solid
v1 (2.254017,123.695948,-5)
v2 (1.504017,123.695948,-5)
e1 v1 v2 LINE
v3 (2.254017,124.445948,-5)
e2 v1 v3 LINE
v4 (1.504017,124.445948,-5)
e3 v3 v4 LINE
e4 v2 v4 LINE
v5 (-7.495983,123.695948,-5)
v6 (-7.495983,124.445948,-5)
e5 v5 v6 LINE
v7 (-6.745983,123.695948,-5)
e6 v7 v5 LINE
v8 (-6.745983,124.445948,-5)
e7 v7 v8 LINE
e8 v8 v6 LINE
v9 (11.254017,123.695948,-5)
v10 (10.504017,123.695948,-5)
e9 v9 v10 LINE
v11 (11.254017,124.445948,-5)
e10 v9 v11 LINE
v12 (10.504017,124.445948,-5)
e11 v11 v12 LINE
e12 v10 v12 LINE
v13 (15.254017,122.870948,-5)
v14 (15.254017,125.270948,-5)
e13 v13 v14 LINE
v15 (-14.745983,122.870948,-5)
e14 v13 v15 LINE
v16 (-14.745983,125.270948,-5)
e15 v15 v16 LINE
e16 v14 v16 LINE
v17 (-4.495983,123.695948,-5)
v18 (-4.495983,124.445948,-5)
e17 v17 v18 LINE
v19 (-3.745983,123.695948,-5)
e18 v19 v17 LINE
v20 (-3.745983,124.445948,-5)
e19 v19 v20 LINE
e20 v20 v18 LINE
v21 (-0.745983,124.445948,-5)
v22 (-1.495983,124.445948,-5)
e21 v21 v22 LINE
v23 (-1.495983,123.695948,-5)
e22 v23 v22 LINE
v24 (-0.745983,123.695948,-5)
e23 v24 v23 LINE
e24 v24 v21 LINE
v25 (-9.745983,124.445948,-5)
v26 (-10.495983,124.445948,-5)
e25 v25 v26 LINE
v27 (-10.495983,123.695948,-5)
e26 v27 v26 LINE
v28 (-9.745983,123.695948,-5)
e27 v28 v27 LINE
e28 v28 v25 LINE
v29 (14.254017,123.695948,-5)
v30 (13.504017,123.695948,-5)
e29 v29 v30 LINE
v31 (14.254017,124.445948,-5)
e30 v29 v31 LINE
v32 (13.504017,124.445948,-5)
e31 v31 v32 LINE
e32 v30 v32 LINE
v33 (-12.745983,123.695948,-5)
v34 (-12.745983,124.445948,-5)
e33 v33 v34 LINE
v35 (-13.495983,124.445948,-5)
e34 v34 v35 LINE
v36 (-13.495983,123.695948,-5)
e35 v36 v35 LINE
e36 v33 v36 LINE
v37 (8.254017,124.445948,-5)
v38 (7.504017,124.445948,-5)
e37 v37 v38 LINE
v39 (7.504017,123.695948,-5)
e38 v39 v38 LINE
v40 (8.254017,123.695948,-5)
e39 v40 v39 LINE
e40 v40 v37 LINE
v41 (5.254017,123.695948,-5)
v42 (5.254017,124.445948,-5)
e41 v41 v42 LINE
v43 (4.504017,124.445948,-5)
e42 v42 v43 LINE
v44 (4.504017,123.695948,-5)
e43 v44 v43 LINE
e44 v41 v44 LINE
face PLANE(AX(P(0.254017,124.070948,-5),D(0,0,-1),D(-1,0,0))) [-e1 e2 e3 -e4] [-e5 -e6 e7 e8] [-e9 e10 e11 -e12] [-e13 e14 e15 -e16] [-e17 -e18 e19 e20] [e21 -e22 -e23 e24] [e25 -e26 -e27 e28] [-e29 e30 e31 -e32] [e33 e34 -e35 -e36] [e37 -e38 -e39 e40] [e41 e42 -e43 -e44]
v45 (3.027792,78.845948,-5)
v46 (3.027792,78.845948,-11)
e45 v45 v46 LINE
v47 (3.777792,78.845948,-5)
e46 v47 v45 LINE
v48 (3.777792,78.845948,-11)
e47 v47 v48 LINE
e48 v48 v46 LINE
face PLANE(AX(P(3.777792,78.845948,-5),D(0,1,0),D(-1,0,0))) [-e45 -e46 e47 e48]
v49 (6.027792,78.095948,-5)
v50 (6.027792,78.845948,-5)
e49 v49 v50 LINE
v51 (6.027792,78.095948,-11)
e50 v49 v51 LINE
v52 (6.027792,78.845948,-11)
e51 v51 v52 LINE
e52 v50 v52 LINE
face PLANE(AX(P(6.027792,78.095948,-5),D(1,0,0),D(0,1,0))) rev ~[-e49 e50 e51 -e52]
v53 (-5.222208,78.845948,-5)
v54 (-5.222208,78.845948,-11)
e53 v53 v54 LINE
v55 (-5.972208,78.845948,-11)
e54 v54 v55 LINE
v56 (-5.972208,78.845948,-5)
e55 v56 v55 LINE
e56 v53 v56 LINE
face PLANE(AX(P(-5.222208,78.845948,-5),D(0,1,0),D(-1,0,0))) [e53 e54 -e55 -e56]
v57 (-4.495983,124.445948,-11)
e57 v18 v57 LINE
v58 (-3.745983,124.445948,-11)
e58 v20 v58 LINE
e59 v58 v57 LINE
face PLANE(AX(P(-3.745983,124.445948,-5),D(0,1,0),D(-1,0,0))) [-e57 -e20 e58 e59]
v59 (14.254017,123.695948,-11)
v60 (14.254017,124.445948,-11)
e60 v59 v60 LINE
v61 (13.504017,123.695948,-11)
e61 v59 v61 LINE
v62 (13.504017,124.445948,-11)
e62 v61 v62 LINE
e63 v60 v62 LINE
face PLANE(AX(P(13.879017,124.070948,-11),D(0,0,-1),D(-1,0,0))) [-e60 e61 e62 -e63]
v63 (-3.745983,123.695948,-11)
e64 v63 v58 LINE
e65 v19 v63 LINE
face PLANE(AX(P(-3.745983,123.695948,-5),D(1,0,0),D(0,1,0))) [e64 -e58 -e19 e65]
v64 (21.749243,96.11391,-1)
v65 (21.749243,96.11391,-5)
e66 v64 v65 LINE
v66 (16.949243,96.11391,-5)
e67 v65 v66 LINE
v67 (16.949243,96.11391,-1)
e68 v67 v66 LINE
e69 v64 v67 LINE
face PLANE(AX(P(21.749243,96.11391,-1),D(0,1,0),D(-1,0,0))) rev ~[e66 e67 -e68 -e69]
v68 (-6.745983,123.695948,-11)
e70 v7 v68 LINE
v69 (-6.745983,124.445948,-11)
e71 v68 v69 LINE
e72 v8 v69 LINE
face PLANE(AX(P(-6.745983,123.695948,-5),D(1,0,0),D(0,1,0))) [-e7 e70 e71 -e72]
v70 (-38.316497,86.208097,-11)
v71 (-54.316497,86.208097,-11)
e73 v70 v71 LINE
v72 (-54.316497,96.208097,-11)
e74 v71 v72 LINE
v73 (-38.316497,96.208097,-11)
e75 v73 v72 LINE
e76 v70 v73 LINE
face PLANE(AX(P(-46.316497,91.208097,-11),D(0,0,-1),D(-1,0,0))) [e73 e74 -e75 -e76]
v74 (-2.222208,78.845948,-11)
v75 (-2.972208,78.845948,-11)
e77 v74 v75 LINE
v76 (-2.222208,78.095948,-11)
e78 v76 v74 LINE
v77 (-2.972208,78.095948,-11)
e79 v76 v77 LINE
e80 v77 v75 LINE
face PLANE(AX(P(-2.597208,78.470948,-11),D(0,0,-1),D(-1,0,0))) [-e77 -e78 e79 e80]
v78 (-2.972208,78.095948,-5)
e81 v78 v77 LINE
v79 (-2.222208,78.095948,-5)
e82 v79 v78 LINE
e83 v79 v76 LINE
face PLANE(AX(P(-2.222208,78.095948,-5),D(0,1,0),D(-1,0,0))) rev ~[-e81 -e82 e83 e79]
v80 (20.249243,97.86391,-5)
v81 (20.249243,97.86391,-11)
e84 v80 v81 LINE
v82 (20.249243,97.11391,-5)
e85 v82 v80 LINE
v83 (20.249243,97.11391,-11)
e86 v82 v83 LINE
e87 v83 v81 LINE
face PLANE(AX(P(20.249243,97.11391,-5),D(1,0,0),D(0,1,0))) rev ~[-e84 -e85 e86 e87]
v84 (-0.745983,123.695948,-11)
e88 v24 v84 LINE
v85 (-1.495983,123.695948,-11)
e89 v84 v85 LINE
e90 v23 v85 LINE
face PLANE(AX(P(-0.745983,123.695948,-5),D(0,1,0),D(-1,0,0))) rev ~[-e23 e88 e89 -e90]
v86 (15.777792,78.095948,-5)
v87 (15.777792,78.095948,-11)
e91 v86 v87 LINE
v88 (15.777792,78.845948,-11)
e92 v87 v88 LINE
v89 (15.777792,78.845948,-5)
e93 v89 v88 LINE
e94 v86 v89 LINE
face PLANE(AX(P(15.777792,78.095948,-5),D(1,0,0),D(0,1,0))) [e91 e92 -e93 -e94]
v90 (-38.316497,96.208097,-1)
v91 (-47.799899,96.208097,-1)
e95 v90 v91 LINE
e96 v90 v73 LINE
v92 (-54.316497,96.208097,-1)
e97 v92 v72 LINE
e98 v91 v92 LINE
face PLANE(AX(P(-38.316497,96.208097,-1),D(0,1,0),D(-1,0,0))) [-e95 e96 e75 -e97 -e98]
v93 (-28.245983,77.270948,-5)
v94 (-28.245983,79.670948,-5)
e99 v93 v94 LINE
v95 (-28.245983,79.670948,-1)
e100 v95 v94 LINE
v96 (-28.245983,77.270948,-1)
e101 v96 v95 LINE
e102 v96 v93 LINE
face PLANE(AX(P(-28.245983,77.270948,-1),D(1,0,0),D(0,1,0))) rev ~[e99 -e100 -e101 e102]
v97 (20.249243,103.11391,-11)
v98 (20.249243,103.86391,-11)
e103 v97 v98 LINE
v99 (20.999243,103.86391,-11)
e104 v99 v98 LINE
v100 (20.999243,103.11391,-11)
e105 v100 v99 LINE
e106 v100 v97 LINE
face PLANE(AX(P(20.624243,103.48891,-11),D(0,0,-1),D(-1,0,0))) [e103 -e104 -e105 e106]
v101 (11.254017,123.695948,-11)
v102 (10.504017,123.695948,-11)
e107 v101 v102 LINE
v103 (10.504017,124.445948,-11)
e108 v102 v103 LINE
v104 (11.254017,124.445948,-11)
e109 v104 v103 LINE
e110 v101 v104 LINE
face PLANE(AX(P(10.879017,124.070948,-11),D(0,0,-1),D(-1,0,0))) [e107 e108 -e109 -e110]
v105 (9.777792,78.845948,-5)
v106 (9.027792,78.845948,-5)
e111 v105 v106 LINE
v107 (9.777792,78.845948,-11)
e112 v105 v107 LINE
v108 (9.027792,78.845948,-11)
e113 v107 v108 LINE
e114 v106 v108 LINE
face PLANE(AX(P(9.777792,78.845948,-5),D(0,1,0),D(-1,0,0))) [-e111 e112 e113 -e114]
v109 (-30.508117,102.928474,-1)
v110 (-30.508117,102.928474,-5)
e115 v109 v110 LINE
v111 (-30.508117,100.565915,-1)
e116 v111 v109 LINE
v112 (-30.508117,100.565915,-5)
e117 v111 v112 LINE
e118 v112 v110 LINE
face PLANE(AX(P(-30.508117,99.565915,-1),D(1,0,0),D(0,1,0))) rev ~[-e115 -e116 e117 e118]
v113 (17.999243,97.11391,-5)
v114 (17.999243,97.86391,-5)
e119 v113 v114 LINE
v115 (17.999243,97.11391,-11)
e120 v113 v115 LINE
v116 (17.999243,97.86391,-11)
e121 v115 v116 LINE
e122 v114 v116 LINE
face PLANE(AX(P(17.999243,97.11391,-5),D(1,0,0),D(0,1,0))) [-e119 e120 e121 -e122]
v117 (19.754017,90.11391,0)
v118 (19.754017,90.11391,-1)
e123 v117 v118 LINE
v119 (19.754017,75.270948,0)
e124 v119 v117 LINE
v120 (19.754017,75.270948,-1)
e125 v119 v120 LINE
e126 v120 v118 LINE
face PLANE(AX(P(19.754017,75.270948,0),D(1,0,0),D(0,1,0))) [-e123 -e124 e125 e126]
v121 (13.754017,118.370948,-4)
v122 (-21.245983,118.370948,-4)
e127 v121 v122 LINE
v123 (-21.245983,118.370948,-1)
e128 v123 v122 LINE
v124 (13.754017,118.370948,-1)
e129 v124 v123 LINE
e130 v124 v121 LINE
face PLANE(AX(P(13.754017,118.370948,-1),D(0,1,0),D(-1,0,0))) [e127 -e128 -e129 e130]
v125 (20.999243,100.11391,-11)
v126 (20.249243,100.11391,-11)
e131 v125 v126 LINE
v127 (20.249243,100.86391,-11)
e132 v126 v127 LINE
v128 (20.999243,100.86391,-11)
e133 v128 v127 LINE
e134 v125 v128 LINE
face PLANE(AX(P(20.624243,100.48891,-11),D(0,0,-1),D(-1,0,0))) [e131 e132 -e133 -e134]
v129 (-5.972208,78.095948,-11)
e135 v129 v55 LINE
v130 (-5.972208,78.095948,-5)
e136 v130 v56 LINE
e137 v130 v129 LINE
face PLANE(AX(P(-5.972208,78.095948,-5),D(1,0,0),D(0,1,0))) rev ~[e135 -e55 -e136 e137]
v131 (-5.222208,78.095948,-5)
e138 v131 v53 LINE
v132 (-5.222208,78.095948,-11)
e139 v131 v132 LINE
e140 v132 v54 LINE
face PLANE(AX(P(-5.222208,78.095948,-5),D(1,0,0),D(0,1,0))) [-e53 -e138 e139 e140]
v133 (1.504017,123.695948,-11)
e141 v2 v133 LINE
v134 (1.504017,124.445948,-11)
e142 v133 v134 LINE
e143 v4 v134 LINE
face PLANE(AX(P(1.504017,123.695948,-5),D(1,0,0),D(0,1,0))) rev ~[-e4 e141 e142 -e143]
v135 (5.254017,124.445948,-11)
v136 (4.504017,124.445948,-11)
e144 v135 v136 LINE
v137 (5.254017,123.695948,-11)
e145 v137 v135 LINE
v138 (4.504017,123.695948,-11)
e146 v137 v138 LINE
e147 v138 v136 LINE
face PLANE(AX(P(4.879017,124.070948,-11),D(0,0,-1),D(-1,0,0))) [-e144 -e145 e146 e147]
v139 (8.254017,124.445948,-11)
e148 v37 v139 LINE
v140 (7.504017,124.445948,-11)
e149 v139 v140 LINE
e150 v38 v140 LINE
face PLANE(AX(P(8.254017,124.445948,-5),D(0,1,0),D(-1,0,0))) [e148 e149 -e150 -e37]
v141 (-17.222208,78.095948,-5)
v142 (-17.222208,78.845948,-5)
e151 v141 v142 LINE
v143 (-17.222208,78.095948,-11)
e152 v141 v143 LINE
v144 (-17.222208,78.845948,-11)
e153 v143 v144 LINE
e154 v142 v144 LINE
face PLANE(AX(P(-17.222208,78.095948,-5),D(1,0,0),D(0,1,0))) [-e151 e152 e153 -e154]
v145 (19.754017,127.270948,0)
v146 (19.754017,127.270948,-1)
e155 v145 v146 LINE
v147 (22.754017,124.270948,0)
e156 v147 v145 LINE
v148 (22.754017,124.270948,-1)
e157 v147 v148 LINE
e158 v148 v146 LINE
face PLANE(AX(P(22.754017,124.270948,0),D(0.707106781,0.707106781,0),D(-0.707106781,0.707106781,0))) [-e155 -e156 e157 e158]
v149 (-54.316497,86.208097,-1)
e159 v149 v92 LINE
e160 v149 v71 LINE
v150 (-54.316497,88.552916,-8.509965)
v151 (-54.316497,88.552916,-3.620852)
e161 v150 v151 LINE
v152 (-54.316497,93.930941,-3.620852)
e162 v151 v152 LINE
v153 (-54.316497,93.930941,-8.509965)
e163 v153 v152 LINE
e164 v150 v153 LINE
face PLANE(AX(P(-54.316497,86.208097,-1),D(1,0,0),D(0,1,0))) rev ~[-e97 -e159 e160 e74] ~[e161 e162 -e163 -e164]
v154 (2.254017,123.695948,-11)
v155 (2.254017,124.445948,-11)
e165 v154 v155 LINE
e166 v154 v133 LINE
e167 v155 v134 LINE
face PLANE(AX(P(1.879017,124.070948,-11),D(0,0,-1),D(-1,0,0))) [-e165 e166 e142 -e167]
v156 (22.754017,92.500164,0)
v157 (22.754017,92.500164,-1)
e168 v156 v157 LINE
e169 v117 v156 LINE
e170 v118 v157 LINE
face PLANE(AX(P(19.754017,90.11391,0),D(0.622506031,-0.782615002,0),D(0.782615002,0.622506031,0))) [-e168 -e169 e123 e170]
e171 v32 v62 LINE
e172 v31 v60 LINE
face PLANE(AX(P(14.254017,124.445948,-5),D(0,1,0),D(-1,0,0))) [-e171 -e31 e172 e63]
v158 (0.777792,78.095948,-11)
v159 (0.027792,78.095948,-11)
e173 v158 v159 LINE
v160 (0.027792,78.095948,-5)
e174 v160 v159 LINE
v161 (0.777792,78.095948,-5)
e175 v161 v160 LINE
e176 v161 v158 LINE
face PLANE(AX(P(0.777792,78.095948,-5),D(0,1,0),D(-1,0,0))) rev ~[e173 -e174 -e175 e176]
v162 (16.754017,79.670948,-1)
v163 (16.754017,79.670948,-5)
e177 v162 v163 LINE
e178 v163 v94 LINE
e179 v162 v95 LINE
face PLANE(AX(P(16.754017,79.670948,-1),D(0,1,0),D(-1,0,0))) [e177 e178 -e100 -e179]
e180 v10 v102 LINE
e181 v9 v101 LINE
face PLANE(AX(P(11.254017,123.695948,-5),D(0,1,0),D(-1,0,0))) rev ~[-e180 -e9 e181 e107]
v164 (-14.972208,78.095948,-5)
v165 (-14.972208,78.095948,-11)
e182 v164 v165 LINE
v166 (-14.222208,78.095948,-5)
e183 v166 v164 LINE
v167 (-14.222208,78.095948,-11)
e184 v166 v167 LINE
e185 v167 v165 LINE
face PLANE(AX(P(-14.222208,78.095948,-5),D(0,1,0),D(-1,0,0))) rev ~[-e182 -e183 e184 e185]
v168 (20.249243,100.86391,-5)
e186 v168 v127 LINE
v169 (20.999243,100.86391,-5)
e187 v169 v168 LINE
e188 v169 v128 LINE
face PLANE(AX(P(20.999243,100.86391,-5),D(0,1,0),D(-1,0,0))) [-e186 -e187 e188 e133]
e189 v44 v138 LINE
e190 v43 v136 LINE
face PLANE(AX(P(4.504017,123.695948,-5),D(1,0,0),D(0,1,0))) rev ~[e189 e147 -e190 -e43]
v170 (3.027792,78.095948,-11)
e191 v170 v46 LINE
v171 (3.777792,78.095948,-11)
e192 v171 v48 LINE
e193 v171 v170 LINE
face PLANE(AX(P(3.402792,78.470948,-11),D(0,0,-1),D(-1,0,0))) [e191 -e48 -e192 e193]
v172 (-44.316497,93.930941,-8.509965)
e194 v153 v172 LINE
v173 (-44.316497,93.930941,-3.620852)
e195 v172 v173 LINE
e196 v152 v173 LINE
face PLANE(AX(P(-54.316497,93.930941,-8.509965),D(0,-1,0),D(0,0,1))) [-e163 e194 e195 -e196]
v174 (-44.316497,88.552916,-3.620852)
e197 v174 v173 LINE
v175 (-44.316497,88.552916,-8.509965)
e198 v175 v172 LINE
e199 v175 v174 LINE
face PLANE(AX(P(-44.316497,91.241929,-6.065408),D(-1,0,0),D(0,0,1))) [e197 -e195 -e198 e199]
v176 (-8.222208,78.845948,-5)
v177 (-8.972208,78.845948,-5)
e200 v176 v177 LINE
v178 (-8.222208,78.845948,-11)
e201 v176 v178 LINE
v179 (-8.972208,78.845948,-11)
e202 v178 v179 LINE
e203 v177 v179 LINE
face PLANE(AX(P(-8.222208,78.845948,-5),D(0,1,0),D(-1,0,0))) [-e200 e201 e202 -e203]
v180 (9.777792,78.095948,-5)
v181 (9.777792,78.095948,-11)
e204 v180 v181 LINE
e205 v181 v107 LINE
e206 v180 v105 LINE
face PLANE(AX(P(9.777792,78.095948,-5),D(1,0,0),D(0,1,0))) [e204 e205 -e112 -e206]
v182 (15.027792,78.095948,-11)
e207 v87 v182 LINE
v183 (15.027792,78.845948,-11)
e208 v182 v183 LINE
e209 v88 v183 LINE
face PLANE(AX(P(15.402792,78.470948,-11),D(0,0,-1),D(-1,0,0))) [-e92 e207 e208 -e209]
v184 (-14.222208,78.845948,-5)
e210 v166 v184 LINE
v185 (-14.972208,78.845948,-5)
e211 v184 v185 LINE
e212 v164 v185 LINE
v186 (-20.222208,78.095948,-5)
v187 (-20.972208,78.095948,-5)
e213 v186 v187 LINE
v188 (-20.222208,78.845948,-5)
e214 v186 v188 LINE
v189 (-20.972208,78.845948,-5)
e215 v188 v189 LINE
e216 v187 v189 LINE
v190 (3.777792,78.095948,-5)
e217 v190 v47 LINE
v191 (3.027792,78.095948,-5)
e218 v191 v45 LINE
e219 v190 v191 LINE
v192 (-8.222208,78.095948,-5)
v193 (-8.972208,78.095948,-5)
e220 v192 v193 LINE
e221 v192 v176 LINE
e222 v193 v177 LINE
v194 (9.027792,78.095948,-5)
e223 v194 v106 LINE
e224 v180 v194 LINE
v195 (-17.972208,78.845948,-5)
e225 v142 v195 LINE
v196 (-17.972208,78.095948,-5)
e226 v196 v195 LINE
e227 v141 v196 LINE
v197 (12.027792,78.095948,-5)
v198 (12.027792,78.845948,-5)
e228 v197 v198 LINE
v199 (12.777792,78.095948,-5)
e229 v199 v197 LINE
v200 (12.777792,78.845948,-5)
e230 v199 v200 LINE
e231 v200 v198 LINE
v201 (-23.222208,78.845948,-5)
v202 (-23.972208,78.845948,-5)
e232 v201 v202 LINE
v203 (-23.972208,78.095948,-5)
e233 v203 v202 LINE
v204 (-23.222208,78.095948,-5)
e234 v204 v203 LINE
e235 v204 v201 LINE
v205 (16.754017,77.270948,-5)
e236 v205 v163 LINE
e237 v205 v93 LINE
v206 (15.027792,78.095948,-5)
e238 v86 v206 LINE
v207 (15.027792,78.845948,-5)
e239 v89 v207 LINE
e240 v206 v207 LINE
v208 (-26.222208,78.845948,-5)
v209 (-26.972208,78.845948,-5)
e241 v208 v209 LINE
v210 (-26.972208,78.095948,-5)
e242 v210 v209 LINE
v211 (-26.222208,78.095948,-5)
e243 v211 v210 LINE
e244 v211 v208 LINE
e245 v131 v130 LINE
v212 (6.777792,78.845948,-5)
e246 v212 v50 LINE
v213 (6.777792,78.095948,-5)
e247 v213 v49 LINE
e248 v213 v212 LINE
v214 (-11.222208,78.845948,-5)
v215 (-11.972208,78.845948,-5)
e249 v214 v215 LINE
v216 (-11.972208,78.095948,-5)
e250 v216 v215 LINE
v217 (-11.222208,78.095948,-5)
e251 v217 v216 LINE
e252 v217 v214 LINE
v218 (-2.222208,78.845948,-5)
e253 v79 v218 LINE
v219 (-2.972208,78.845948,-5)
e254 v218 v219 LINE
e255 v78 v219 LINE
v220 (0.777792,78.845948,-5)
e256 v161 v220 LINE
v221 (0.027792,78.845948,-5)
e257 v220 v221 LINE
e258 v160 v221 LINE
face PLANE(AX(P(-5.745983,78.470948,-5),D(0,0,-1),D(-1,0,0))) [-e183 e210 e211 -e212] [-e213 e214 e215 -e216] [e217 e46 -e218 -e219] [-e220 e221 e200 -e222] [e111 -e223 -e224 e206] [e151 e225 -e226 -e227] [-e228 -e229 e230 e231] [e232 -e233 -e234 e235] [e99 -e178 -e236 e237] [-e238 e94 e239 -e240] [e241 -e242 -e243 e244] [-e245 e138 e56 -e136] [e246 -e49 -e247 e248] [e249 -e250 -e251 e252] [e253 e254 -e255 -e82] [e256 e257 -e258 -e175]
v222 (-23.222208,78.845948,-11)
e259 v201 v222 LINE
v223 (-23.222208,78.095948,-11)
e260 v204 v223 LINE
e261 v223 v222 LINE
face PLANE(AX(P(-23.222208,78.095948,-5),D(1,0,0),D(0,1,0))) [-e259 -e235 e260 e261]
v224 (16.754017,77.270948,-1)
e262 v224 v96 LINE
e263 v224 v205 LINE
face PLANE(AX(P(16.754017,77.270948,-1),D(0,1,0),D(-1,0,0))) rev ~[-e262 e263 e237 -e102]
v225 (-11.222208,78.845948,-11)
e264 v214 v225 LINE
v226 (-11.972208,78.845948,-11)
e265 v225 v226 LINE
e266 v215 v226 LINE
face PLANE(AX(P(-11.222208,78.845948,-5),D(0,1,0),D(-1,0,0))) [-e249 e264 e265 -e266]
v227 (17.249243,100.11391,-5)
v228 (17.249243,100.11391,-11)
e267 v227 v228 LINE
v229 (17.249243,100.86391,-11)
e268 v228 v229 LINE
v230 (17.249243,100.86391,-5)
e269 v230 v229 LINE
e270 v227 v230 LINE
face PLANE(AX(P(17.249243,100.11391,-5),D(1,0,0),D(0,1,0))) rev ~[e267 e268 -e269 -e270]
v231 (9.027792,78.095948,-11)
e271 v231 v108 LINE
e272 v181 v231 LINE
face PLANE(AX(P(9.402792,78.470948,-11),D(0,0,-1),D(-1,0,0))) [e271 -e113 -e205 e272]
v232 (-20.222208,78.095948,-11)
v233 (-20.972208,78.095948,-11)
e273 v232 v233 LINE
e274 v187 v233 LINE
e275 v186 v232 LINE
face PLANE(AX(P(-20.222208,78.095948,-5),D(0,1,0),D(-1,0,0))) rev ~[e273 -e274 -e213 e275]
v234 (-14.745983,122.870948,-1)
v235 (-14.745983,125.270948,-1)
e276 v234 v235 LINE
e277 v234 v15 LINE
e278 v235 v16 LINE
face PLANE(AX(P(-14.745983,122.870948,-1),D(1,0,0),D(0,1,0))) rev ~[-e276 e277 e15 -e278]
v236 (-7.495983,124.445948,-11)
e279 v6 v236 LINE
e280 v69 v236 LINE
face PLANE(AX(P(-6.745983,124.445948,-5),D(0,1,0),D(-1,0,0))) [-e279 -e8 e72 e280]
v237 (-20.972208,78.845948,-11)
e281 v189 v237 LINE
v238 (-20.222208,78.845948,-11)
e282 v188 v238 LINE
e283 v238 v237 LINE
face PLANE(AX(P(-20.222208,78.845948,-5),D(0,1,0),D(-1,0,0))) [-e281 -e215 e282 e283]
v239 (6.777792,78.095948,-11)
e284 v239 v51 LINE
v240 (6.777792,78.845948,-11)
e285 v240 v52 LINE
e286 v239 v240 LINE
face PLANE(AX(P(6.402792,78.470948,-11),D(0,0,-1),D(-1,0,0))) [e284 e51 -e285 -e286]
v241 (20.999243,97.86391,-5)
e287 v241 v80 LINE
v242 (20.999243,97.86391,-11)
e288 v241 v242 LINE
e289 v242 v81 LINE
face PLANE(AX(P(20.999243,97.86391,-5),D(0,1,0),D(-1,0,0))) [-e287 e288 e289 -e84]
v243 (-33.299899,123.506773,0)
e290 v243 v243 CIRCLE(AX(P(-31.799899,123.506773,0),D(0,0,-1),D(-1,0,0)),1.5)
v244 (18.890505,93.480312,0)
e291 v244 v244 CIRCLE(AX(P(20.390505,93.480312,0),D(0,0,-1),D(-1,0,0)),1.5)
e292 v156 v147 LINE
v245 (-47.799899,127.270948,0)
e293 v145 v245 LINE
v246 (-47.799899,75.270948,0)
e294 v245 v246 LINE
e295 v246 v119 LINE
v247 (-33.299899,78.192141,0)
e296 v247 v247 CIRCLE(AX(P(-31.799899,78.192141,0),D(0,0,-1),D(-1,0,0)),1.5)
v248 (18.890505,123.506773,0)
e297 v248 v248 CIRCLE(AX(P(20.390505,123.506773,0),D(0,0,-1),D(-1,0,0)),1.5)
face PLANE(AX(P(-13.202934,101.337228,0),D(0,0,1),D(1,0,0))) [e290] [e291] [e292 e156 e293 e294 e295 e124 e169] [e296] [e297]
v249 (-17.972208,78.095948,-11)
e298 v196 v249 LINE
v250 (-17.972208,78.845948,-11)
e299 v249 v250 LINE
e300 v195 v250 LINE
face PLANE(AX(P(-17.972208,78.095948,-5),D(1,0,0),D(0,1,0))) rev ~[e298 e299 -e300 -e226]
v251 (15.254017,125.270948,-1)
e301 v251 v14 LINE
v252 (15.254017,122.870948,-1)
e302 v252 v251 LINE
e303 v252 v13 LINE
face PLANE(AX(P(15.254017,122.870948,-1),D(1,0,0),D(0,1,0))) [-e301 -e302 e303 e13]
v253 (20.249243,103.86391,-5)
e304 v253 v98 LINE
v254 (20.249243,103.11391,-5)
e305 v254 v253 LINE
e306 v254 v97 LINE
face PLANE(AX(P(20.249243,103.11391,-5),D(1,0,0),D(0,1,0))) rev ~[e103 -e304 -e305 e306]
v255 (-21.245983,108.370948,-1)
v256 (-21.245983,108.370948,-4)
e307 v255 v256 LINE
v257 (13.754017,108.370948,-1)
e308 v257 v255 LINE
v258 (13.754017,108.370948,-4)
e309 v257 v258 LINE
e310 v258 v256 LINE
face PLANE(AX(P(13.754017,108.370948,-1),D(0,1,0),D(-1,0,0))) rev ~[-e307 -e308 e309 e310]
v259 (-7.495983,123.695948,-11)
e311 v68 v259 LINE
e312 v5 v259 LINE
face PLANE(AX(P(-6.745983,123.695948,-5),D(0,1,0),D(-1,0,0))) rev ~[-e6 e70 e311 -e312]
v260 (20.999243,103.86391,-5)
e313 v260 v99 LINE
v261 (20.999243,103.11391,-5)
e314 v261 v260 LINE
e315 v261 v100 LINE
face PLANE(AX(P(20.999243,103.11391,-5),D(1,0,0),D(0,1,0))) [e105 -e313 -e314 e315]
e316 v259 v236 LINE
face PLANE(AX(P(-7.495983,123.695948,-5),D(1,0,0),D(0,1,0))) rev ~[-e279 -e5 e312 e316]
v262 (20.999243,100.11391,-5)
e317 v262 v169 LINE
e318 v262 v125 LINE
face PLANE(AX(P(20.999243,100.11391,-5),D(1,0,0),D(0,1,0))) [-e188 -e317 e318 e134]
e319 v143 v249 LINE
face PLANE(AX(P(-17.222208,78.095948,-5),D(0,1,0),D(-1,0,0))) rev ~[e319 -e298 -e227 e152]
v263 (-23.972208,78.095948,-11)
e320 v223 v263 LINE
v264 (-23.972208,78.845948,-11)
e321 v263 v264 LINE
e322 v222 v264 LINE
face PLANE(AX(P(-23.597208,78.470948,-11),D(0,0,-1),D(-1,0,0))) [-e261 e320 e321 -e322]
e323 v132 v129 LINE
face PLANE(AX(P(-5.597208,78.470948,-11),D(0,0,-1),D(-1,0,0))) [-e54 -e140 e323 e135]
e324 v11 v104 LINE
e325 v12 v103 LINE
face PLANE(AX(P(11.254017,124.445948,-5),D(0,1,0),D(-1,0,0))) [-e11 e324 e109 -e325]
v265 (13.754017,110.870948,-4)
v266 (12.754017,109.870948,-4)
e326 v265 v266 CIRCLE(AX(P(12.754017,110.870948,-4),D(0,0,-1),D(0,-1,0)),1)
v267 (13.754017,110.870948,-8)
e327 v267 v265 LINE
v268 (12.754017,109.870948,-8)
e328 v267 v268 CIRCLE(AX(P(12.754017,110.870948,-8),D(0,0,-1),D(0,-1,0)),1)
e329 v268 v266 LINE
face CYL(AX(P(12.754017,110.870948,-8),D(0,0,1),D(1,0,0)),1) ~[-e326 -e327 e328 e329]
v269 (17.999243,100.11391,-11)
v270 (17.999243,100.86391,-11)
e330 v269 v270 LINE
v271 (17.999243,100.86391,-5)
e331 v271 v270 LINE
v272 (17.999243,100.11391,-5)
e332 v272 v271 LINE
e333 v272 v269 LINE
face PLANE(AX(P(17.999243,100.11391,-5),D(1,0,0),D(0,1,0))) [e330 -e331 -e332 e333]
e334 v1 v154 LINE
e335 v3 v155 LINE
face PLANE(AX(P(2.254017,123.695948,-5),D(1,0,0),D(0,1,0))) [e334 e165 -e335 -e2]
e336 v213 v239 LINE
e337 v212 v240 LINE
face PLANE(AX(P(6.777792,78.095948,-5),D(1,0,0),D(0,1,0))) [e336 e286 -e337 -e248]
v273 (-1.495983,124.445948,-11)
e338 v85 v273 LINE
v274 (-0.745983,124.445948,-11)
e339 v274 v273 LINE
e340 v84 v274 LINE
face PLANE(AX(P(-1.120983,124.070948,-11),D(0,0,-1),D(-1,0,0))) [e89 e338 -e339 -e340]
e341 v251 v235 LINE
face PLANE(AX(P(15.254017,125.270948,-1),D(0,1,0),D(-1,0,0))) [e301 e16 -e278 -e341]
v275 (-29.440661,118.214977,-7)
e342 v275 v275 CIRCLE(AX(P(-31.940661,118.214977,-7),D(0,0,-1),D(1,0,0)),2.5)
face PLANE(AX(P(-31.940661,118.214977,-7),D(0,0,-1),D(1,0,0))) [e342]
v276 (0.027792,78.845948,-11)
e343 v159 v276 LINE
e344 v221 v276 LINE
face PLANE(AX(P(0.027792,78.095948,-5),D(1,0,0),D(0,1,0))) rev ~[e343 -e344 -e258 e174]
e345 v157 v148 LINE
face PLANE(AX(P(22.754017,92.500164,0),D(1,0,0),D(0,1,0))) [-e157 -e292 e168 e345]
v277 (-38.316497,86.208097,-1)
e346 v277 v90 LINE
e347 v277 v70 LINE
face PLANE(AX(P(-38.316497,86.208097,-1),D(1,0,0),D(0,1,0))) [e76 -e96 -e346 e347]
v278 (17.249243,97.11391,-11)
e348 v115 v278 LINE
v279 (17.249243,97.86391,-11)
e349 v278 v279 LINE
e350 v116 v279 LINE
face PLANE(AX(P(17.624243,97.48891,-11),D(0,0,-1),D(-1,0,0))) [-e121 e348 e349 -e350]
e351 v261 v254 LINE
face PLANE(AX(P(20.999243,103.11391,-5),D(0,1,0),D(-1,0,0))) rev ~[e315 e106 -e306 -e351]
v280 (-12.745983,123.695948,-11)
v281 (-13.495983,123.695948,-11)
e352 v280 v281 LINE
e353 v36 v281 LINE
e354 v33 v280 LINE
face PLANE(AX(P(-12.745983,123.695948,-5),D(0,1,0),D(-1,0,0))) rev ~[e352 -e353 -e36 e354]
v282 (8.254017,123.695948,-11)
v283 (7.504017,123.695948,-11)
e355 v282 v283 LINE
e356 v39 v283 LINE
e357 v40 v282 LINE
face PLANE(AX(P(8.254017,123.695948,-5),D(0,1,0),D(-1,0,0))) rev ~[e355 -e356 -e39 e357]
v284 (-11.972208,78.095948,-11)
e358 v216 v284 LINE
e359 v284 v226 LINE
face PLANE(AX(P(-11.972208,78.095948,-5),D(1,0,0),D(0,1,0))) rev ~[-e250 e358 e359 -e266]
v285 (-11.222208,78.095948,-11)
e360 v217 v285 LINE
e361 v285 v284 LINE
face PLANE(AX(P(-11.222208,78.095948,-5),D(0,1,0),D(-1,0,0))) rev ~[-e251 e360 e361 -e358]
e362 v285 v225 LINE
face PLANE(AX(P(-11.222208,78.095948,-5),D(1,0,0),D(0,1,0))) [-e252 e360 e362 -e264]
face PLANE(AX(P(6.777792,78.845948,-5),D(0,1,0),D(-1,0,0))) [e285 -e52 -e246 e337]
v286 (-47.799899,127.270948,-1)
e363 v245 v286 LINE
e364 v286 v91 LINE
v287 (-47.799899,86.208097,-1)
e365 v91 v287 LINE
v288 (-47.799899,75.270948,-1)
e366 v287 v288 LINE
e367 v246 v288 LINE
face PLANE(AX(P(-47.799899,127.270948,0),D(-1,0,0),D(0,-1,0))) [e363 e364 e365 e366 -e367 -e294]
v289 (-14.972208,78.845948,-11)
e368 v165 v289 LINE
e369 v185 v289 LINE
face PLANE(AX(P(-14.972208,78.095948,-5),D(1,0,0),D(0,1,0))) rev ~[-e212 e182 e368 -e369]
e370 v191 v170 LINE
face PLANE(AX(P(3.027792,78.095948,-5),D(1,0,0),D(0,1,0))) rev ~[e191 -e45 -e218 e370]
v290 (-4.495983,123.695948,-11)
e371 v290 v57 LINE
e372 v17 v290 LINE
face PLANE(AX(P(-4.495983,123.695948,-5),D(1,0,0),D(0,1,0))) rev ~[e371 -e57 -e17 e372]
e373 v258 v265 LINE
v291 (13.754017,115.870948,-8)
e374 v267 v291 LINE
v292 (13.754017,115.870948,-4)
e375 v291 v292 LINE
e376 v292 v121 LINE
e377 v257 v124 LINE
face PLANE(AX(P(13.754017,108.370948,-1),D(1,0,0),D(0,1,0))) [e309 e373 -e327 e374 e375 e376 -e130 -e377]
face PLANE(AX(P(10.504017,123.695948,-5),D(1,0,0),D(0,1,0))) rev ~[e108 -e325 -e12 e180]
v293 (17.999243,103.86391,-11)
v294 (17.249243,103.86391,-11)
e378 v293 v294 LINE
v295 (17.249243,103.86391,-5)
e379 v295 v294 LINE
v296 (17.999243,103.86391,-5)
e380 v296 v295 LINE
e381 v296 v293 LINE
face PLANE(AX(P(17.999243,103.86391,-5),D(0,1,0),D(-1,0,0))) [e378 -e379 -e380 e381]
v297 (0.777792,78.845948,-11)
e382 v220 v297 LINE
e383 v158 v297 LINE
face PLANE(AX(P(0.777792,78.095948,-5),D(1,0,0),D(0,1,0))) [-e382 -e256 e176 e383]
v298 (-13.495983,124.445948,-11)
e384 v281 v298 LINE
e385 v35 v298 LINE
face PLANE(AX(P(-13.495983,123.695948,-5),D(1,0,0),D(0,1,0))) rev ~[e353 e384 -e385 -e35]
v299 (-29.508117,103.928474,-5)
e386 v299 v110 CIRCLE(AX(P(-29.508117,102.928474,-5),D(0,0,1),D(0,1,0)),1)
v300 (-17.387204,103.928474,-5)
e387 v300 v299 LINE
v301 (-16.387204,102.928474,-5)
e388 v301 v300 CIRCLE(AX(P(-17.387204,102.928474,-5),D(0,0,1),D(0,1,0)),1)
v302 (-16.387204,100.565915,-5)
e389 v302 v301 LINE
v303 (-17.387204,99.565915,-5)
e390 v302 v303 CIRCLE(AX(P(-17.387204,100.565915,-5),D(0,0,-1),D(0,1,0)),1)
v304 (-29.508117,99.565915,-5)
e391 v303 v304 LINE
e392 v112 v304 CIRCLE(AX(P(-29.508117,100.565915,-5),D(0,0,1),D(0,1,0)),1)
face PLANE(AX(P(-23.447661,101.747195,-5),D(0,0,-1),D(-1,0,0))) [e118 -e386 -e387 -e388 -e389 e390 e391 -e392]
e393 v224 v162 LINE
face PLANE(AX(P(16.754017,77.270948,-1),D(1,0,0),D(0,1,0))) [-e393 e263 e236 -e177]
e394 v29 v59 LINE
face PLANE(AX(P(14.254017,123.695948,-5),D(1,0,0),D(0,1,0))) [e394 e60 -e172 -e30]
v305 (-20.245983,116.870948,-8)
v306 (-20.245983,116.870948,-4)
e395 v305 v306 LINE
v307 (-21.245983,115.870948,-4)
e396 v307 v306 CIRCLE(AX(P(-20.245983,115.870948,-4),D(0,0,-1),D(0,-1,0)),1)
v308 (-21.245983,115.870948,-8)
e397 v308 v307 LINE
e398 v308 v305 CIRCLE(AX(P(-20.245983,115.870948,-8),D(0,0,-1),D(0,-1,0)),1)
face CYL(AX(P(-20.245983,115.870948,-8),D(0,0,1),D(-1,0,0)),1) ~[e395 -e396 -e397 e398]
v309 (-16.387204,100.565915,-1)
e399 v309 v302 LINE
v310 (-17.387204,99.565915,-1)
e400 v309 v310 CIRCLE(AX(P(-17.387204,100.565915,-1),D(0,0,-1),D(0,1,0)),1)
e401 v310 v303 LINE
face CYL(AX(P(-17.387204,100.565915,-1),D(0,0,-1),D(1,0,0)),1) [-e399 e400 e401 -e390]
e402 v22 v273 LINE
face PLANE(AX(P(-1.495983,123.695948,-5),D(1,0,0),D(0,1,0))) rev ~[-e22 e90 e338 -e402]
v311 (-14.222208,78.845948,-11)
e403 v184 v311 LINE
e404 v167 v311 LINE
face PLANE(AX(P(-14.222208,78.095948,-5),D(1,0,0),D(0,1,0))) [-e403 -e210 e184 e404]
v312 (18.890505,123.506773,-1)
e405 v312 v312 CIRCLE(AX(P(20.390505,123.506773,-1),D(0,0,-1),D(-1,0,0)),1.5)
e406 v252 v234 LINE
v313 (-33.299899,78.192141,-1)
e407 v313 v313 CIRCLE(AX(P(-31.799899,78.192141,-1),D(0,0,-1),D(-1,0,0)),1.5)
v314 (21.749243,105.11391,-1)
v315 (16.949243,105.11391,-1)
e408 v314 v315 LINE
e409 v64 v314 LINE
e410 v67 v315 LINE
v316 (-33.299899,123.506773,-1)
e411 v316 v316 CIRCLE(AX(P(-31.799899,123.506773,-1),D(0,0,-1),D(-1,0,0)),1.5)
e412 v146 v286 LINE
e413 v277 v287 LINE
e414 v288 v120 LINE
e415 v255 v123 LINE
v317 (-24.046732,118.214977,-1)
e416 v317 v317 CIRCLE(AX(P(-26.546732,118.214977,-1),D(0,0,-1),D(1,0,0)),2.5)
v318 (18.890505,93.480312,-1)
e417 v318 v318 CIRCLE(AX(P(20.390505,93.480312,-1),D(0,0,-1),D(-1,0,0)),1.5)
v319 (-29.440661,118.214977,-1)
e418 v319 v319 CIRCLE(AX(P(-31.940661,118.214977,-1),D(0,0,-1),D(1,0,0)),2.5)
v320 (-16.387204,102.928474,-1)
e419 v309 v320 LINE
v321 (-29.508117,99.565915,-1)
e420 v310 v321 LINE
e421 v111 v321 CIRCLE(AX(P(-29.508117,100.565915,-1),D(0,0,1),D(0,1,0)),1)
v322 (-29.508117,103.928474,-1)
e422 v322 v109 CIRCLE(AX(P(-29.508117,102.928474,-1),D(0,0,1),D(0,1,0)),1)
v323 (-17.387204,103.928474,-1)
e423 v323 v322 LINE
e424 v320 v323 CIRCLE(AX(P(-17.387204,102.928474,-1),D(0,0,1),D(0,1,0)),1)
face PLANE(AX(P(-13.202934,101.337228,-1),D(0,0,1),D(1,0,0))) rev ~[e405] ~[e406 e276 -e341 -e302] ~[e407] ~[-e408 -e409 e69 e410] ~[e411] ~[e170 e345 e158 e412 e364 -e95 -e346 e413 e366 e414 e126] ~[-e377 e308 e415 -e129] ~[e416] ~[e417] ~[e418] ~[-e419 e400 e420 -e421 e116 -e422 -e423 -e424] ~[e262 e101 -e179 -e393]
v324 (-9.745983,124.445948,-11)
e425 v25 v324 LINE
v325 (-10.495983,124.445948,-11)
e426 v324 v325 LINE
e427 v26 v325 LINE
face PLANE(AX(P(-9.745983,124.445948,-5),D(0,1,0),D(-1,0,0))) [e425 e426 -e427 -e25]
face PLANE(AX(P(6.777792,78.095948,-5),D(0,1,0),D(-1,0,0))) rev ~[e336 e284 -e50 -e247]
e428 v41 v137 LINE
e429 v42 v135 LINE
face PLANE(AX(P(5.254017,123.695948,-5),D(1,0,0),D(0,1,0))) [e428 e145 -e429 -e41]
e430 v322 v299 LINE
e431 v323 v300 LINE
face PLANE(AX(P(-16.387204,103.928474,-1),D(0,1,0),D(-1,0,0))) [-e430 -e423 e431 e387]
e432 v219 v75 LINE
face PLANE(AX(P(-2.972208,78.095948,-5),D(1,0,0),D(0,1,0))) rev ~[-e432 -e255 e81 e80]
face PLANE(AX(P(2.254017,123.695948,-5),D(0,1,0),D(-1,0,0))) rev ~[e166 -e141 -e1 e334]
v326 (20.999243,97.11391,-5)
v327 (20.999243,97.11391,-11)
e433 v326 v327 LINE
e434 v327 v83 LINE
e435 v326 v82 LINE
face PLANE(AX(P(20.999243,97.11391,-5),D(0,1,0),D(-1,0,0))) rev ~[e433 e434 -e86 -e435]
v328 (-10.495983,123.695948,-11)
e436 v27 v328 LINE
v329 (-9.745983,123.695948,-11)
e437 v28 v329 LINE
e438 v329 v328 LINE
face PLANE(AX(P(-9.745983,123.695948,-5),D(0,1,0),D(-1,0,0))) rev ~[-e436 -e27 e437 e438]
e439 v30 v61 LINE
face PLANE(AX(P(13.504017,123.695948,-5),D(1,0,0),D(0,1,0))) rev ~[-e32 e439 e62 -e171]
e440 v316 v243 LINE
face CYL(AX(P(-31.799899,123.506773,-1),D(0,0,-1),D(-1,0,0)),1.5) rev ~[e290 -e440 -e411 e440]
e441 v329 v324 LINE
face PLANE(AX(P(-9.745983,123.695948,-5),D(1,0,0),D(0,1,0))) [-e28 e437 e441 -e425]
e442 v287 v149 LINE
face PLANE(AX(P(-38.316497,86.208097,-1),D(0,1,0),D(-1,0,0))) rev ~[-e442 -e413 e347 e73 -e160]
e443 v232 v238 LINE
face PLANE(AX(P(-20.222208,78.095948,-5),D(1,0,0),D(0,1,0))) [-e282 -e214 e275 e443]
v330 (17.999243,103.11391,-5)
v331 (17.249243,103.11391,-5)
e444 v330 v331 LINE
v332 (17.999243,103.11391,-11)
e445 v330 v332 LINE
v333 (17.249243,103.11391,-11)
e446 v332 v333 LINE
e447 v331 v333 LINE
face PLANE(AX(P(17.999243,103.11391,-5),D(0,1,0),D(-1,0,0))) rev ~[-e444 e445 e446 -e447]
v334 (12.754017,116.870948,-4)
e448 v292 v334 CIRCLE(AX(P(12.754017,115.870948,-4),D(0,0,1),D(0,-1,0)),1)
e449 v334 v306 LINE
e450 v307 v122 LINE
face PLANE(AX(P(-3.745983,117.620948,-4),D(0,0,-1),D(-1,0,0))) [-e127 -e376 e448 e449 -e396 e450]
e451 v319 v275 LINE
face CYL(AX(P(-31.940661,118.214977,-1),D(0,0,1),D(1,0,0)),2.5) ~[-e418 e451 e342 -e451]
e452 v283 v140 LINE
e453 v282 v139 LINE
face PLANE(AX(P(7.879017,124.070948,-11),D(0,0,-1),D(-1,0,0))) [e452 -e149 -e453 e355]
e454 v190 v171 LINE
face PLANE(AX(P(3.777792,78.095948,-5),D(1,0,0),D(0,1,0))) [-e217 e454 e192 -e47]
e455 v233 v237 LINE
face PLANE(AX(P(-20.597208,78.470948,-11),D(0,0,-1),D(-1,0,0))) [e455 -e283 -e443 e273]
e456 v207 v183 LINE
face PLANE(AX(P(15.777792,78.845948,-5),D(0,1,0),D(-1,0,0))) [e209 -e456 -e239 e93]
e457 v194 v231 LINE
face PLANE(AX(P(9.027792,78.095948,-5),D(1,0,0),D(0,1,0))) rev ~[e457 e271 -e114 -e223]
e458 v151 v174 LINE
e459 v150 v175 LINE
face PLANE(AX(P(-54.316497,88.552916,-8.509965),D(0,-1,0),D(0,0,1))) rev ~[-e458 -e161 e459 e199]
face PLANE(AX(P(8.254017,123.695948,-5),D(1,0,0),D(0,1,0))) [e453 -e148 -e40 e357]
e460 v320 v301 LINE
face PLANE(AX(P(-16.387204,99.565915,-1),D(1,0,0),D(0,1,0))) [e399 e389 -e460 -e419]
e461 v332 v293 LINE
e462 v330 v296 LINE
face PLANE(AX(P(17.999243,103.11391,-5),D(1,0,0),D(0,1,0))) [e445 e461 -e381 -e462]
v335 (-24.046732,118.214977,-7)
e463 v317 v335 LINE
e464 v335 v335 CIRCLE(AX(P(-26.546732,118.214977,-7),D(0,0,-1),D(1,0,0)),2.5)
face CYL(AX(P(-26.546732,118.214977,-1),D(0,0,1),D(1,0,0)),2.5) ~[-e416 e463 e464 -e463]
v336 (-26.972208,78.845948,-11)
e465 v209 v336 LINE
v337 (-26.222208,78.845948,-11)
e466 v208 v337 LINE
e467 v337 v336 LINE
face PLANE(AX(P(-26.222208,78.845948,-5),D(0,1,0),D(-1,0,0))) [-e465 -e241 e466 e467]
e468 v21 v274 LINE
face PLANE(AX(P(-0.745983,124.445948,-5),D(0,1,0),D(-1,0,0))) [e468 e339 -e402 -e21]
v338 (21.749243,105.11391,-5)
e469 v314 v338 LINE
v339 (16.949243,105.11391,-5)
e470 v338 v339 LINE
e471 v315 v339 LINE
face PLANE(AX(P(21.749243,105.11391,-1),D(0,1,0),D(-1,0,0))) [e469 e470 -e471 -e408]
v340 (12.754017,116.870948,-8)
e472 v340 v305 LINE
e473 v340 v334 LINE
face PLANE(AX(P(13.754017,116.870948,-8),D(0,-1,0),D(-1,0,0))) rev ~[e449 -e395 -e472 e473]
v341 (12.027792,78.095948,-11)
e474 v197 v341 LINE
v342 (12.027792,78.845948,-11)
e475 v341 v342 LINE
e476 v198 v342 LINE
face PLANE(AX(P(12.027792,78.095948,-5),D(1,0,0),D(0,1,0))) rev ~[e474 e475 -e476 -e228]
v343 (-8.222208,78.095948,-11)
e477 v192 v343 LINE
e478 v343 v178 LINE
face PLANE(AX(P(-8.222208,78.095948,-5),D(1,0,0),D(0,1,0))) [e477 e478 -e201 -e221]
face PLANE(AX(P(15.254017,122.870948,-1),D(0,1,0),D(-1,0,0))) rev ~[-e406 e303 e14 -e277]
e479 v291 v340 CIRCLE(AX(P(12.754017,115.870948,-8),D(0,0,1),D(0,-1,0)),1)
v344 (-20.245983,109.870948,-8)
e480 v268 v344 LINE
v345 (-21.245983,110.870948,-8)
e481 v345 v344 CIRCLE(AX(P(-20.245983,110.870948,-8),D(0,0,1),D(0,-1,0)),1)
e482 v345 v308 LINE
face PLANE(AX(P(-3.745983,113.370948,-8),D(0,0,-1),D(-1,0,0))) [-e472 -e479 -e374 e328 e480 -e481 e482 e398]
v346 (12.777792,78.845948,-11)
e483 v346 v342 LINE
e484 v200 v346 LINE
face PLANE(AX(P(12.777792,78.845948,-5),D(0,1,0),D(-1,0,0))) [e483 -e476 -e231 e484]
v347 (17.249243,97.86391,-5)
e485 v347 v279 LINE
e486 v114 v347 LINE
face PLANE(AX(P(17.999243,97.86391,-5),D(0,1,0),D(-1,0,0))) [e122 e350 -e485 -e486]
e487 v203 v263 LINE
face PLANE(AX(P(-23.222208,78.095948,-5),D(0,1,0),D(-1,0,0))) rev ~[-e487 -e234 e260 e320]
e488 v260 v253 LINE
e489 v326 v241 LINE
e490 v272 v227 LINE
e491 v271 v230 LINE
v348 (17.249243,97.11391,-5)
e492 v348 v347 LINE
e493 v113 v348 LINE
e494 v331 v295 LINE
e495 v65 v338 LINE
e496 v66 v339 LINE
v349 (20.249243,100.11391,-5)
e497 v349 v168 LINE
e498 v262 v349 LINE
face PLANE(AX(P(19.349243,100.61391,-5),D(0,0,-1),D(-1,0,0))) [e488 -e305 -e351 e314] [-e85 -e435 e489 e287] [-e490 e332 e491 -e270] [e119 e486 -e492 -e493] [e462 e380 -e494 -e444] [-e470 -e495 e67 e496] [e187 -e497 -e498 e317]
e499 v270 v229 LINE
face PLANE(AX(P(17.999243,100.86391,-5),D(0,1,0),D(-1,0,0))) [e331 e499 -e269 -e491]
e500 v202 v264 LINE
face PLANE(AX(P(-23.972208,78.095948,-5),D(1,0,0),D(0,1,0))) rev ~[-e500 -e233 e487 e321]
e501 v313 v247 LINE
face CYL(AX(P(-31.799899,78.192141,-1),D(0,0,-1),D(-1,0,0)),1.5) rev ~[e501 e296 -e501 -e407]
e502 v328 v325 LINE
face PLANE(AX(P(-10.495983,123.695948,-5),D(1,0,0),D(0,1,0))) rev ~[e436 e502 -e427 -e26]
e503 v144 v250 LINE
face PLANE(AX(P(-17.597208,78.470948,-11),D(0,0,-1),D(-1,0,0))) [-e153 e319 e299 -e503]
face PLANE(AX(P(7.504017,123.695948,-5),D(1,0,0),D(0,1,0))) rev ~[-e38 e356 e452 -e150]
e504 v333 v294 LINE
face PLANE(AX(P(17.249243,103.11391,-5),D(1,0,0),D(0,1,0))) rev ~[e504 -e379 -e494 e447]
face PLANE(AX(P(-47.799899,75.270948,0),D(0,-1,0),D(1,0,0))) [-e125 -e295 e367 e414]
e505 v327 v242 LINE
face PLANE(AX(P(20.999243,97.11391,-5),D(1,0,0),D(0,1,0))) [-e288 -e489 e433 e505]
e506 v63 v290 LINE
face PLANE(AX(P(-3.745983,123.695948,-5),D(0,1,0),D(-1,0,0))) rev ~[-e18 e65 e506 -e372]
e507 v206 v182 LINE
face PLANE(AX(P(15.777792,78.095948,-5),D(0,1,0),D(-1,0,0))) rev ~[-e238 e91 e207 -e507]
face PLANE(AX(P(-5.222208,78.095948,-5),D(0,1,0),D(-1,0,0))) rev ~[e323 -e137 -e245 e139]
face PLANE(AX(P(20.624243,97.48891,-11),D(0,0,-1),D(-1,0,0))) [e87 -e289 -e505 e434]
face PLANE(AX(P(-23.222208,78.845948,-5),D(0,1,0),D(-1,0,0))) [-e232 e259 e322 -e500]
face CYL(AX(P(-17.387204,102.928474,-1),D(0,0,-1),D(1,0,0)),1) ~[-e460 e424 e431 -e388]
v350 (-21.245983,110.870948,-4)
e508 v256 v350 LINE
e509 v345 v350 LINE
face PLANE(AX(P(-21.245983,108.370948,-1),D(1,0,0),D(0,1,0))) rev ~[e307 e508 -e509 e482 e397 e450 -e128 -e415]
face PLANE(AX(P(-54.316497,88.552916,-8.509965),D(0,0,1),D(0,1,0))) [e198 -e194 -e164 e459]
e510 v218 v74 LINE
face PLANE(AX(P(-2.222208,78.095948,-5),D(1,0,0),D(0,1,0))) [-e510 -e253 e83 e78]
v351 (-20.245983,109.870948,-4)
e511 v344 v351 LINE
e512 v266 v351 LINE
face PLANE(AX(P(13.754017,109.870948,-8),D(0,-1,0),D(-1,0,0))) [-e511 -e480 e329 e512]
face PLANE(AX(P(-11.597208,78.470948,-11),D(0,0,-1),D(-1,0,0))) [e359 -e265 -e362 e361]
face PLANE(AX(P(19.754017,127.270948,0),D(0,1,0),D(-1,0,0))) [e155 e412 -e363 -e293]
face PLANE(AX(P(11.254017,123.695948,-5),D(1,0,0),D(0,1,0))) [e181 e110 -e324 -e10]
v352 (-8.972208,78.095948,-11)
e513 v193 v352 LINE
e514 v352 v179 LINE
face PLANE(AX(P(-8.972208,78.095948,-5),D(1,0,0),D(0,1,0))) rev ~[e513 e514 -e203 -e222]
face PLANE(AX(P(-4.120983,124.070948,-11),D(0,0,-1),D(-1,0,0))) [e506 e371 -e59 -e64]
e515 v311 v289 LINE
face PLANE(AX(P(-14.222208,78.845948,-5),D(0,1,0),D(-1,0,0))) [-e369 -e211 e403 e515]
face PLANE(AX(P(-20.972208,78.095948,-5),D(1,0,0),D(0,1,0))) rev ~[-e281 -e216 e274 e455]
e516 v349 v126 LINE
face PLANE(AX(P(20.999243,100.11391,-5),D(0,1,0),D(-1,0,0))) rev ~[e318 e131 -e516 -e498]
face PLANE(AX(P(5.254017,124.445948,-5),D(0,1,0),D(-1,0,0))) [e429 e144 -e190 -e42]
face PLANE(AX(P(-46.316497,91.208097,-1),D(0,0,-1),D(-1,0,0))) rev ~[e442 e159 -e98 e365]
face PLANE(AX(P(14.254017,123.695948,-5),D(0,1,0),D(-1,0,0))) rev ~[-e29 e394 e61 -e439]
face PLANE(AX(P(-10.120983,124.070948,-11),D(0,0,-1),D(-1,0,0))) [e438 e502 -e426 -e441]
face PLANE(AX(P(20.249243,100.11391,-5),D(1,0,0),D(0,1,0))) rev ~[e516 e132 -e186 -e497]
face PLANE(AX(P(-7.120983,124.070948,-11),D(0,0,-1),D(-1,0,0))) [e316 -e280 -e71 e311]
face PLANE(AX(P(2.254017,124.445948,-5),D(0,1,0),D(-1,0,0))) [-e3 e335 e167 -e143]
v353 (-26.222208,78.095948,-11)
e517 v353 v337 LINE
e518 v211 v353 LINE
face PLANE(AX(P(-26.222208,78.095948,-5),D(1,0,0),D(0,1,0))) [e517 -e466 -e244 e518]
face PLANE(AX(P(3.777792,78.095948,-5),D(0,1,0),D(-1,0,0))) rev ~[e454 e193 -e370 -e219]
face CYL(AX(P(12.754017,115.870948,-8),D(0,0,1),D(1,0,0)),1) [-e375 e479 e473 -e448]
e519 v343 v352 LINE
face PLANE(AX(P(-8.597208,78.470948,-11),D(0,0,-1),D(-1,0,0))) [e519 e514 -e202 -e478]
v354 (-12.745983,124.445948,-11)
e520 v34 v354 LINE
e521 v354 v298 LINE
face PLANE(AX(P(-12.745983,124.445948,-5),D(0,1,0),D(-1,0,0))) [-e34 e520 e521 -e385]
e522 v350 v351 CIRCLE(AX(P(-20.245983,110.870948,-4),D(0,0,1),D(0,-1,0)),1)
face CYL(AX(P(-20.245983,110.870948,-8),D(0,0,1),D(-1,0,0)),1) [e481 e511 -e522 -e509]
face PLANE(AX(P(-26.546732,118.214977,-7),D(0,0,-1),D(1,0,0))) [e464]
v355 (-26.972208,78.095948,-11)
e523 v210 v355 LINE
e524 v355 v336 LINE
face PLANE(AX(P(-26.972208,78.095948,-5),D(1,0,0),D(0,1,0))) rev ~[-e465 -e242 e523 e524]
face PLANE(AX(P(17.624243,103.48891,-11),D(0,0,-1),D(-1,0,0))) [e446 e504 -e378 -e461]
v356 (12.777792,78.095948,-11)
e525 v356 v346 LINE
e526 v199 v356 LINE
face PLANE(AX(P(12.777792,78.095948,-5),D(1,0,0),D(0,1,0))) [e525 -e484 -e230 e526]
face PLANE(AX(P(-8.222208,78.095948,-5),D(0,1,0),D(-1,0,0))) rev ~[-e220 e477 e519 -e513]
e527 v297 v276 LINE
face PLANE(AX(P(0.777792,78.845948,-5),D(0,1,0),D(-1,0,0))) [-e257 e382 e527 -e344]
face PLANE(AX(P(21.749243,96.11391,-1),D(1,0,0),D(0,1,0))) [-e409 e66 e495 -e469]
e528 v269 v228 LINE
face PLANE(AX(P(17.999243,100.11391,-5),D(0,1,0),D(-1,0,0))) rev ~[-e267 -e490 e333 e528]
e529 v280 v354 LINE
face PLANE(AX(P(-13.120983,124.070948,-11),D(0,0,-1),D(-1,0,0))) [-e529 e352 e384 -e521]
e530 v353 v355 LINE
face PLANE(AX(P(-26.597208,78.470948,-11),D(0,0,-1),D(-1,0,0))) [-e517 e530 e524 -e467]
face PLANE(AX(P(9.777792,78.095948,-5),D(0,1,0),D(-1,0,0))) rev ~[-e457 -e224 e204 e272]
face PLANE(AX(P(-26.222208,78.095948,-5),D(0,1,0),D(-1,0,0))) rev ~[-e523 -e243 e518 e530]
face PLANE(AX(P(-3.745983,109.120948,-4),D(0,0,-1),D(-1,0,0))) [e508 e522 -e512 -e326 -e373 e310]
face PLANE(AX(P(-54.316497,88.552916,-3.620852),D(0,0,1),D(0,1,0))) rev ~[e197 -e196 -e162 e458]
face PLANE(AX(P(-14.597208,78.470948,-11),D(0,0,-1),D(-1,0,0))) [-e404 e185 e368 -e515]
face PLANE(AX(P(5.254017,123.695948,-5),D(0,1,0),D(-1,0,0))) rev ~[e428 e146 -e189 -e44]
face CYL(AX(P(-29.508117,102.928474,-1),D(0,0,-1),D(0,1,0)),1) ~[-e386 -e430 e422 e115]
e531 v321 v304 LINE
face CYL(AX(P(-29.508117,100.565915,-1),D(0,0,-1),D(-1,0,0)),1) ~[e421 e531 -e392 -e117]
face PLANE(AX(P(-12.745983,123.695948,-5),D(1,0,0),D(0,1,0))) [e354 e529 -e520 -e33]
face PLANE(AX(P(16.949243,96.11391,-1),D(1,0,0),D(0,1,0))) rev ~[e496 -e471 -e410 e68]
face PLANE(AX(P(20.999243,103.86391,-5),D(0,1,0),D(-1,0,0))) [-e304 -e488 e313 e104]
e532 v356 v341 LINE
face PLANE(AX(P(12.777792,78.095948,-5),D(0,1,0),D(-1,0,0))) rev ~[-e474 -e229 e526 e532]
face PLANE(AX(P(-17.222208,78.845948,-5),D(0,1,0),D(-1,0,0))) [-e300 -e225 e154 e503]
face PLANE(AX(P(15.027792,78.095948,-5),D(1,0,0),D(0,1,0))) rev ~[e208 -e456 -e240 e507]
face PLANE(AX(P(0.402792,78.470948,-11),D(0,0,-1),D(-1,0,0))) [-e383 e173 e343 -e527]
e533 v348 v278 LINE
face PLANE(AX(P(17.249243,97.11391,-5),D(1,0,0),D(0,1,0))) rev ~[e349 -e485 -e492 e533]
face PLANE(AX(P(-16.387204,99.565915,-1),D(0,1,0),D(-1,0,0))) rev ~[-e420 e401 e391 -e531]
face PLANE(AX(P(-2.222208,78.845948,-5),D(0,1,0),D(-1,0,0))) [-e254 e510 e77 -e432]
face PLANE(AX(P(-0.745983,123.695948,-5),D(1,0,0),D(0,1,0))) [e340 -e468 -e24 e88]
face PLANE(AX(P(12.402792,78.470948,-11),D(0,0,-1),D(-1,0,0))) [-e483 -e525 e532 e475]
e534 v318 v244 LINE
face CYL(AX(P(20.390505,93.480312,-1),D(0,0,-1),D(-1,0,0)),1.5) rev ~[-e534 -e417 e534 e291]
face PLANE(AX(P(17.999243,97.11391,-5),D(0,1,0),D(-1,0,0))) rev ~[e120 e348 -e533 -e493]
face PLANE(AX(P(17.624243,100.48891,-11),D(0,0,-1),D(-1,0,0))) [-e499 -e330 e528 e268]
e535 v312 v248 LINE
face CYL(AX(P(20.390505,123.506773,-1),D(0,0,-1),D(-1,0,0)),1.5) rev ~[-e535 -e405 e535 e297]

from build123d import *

# Parameters (mm, degrees)
BOSS_EXTRUDE1_DEPTH  = 1
SKETCH2_W            = 16
SKETCH2_H            = 10
BOSS_EXTRUDE2_DEPTH  = 10
SKETCH3_W            = 4.889113018
SKETCH3_H            = 5.37802432
CUT_EXTRUDE1_DEPTH   = 10
SKETCH4_W            = 45
SKETCH4_H            = 2.4
SKETCH4_W_2          = 30
BOSS_EXTRUDE3_DEPTH  = 4
SKETCH5_W            = 35
SKETCH5_H            = 10
BOSS_EXTRUDE4_DEPTH  = 7
SKETCH6_W            = 35
SKETCH6_H            = 1.5
CUT_EXTRUDE2_DEPTH   = 4
FILLET1_R            = 1
SKETCH7_R            = 1.5
CUT_EXTRUDE3_DEPTH   = 4
SKETCH8_W            = 0.75
SKETCH8_H            = 0.75
BOSS_EXTRUDE5_DEPTH  = 6
LPATTERN1_COUNT      = 10
LPATTERN1_PITCH      = 3
SKETCH9_W            = 0.75
SKETCH9_H            = 0.75
BOSS_EXTRUDE6_DEPTH  = 6
LPATTERN2_COUNT      = 15
LPATTERN2_PITCH      = 3
SKETCH10_R           = 2.5
BOSS_EXTRUDE7_DEPTH  = 6
SKETCH11_W           = 4.8
SKETCH11_H           = 9
BOSS_EXTRUDE8_DEPTH  = 4
SKETCH12_W           = 0.75
SKETCH12_H           = 0.75
BOSS_EXTRUDE9_DEPTH  = 6
LPATTERN3_COUNT      = 3
LPATTERN3_PITCH      = 3
LPATTERN3_COUNT_DIR2 = 2
LPATTERN3_PITCH_DIR2 = 3
SKETCH13_W           = 14.120912951
SKETCH13_H           = 4.362558473
BOSS_EXTRUDE10_DEPTH = 4
FILLET2_R            = 1


with BuildPart() as part:
    # Sketch1 → Boss-Extrude1 (new body)
    with BuildSketch(Plane.XY):
        Polygon((22.754016647, 124.270947632), (19.754016647, 127.270947632), (-47.799898806, 127.270947632), (-47.799898806, 75.270947632), (19.754016647, 75.270947632), (19.754016647, 90.113910289), (22.754016647, 92.500164177), align=None)
    extrude(amount=-BOSS_EXTRUDE1_DEPTH)

    # Sketch2 → Boss-Extrude2 (add)
    with BuildSketch(Plane(origin=(0, 0, -1), x_dir=(-1, 0, 0), z_dir=(0, 0, -1))):
        with Locations((46.316496684, 91.208096568)):
            Rectangle(SKETCH2_W, SKETCH2_H)
    extrude(amount=BOSS_EXTRUDE2_DEPTH)

    # Sketch3 → Cut-Extrude1 (cut)
    with BuildSketch(Plane.ZY.offset(54.316496684)):
        with Locations((-6.06540843, 91.2419286)):
            Rectangle(SKETCH3_W, SKETCH3_H)
    extrude(amount=-CUT_EXTRUDE1_DEPTH, mode=Mode.SUBTRACT)

    # Sketch4 → Boss-Extrude3 (add)
    with BuildSketch(Plane(origin=(0, 0, -1), x_dir=(-1, 0, 0), z_dir=(0, 0, -1))):
        with Locations((5.745983353, 78.470947632)):
            Rectangle(SKETCH4_W, SKETCH4_H)
        with Locations((-0.254016647, 124.070947632)):
            Rectangle(SKETCH4_W_2, SKETCH4_H)
    extrude(amount=BOSS_EXTRUDE3_DEPTH)

    # Sketch5 → Boss-Extrude4 (add)
    with BuildSketch(Plane(origin=(0, 0, -1), x_dir=(-1, 0, 0), z_dir=(0, 0, -1))):
        with Locations((3.745983353, 113.370947632)):
            Rectangle(SKETCH5_W, SKETCH5_H)
    extrude(amount=BOSS_EXTRUDE4_DEPTH)

    # Sketch6 → Cut-Extrude2 (cut)
    with BuildSketch(Plane(origin=(0, 0, -8), x_dir=(-1, 0, 0), z_dir=(0, 0, -1))):
        with Locations((3.745983353, 117.620947632)):
            Rectangle(SKETCH6_W, SKETCH6_H)
        with Locations((3.745983353, 109.120947632)):
            Rectangle(SKETCH6_W, SKETCH6_H)
    extrude(amount=-CUT_EXTRUDE2_DEPTH, mode=Mode.SUBTRACT)

    # Fillet1
    fillet1_edges = [part.edges().sort_by_distance(p)[0] for p in [
        (13.754016647, 109.870947632, -6),
        (-21.245983353, 109.870947632, -6),
        (13.754016647, 116.870947632, -6),
        (-21.245983353, 116.870947632, -6),
    ]]
    fillet(fillet1_edges, radius=FILLET1_R)

    # Sketch7 → Cut-Extrude3 (cut)
    with BuildSketch(Plane(origin=(0, 0, -1), x_dir=(-1, 0, 0), z_dir=(0, 0, -1))):
        with Locations((-20.390504743, 123.506772987)):
            Circle(SKETCH7_R)
        with Locations((-20.390504743, 93.48031176)):
            Circle(SKETCH7_R)
        with Locations((31.799898806, 123.506772987)):
            Circle(SKETCH7_R)
        with Locations((31.799898806, 78.192140702)):
            Circle(SKETCH7_R)
    extrude(amount=-CUT_EXTRUDE3_DEPTH, mode=Mode.SUBTRACT)

    # Sketch8 → Boss-Extrude5 (add)
    with BuildSketch(Plane(origin=(0, 0, -5), x_dir=(-1, 0, 0), z_dir=(0, 0, -1))):
        with Locations((-13.879016647, 124.070947632)):
            Rectangle(SKETCH8_W, SKETCH8_H)
    boss_extrude5 = extrude(amount=BOSS_EXTRUDE5_DEPTH)

    # LPattern1: Boss-Extrude5 ×10
    with Locations(*[(-i * LPATTERN1_PITCH, 0, 0) for i in range(1, LPATTERN1_COUNT)]):
        add(boss_extrude5)

    # Sketch9 → Boss-Extrude6 (add)
    with BuildSketch(Plane(origin=(0, 0, -5), x_dir=(-1, 0, 0), z_dir=(0, 0, -1))):
        with Locations((-15.402792453, 78.470947632)):
            Rectangle(SKETCH9_W, SKETCH9_H)
    boss_extrude6 = extrude(amount=BOSS_EXTRUDE6_DEPTH)

    # LPattern2: Boss-Extrude6 ×15
    with Locations(*[(-i * LPATTERN2_PITCH, 0, 0) for i in range(1, LPATTERN2_COUNT)]):
        add(boss_extrude6)

    # Sketch10 → Boss-Extrude7 (add)
    with BuildSketch(Plane(origin=(0, 0, -1), x_dir=(-1, 0, 0), z_dir=(0, 0, -1))):
        with Locations(Location((26.546732083, 118.214976991, 0), (0, 0, 180))):
            Circle(SKETCH10_R)
        with Locations(Location((31.940661119, 118.214976991, 0), (0, 0, 180))):
            Circle(SKETCH10_R)
    extrude(amount=BOSS_EXTRUDE7_DEPTH)

    # Sketch11 → Boss-Extrude8 (add)
    with BuildSketch(Plane(origin=(0, 0, -1), x_dir=(-1, 0, 0), z_dir=(0, 0, -1))):
        with Locations((-19.349242758, 100.613910289)):
            Rectangle(SKETCH11_W, SKETCH11_H)
    extrude(amount=BOSS_EXTRUDE8_DEPTH)

    # Sketch12 → Boss-Extrude9 (add)
    with BuildSketch(Plane(origin=(0, 0, -5), x_dir=(-1, 0, 0), z_dir=(0, 0, -1))):
        with Locations((-20.624242758, 97.488910289)):
            Rectangle(SKETCH12_W, SKETCH12_H)
    boss_extrude9 = extrude(amount=BOSS_EXTRUDE9_DEPTH)

    # LPattern3: Boss-Extrude9 3 × 2
    with Locations(*[(-j * LPATTERN3_PITCH_DIR2, i * LPATTERN3_PITCH, 0) for i in range(LPATTERN3_COUNT) for j in range(LPATTERN3_COUNT_DIR2) if (i, j) != (0, 0)]):
        add(boss_extrude9)

    # Sketch13 → Boss-Extrude10 (add)
    with BuildSketch(Plane(origin=(0, 0, -1), x_dir=(-1, 0, 0), z_dir=(0, 0, -1))):
        with Locations((23.447660741, 101.747194556)):
            Rectangle(SKETCH13_W, SKETCH13_H)
    extrude(amount=BOSS_EXTRUDE10_DEPTH)

    # Fillet2
    fillet2_edges = [part.edges().sort_by_distance(p)[0] for p in [
        (-16.387204265, 103.928473792, -3),
        (-16.387204265, 99.565915319, -3),
        (-30.508117216, 99.565915319, -3),
        (-30.508117216, 103.928473792, -3),
    ]]
    fillet(fillet2_edges, radius=FILLET2_R)


solid = part.part
